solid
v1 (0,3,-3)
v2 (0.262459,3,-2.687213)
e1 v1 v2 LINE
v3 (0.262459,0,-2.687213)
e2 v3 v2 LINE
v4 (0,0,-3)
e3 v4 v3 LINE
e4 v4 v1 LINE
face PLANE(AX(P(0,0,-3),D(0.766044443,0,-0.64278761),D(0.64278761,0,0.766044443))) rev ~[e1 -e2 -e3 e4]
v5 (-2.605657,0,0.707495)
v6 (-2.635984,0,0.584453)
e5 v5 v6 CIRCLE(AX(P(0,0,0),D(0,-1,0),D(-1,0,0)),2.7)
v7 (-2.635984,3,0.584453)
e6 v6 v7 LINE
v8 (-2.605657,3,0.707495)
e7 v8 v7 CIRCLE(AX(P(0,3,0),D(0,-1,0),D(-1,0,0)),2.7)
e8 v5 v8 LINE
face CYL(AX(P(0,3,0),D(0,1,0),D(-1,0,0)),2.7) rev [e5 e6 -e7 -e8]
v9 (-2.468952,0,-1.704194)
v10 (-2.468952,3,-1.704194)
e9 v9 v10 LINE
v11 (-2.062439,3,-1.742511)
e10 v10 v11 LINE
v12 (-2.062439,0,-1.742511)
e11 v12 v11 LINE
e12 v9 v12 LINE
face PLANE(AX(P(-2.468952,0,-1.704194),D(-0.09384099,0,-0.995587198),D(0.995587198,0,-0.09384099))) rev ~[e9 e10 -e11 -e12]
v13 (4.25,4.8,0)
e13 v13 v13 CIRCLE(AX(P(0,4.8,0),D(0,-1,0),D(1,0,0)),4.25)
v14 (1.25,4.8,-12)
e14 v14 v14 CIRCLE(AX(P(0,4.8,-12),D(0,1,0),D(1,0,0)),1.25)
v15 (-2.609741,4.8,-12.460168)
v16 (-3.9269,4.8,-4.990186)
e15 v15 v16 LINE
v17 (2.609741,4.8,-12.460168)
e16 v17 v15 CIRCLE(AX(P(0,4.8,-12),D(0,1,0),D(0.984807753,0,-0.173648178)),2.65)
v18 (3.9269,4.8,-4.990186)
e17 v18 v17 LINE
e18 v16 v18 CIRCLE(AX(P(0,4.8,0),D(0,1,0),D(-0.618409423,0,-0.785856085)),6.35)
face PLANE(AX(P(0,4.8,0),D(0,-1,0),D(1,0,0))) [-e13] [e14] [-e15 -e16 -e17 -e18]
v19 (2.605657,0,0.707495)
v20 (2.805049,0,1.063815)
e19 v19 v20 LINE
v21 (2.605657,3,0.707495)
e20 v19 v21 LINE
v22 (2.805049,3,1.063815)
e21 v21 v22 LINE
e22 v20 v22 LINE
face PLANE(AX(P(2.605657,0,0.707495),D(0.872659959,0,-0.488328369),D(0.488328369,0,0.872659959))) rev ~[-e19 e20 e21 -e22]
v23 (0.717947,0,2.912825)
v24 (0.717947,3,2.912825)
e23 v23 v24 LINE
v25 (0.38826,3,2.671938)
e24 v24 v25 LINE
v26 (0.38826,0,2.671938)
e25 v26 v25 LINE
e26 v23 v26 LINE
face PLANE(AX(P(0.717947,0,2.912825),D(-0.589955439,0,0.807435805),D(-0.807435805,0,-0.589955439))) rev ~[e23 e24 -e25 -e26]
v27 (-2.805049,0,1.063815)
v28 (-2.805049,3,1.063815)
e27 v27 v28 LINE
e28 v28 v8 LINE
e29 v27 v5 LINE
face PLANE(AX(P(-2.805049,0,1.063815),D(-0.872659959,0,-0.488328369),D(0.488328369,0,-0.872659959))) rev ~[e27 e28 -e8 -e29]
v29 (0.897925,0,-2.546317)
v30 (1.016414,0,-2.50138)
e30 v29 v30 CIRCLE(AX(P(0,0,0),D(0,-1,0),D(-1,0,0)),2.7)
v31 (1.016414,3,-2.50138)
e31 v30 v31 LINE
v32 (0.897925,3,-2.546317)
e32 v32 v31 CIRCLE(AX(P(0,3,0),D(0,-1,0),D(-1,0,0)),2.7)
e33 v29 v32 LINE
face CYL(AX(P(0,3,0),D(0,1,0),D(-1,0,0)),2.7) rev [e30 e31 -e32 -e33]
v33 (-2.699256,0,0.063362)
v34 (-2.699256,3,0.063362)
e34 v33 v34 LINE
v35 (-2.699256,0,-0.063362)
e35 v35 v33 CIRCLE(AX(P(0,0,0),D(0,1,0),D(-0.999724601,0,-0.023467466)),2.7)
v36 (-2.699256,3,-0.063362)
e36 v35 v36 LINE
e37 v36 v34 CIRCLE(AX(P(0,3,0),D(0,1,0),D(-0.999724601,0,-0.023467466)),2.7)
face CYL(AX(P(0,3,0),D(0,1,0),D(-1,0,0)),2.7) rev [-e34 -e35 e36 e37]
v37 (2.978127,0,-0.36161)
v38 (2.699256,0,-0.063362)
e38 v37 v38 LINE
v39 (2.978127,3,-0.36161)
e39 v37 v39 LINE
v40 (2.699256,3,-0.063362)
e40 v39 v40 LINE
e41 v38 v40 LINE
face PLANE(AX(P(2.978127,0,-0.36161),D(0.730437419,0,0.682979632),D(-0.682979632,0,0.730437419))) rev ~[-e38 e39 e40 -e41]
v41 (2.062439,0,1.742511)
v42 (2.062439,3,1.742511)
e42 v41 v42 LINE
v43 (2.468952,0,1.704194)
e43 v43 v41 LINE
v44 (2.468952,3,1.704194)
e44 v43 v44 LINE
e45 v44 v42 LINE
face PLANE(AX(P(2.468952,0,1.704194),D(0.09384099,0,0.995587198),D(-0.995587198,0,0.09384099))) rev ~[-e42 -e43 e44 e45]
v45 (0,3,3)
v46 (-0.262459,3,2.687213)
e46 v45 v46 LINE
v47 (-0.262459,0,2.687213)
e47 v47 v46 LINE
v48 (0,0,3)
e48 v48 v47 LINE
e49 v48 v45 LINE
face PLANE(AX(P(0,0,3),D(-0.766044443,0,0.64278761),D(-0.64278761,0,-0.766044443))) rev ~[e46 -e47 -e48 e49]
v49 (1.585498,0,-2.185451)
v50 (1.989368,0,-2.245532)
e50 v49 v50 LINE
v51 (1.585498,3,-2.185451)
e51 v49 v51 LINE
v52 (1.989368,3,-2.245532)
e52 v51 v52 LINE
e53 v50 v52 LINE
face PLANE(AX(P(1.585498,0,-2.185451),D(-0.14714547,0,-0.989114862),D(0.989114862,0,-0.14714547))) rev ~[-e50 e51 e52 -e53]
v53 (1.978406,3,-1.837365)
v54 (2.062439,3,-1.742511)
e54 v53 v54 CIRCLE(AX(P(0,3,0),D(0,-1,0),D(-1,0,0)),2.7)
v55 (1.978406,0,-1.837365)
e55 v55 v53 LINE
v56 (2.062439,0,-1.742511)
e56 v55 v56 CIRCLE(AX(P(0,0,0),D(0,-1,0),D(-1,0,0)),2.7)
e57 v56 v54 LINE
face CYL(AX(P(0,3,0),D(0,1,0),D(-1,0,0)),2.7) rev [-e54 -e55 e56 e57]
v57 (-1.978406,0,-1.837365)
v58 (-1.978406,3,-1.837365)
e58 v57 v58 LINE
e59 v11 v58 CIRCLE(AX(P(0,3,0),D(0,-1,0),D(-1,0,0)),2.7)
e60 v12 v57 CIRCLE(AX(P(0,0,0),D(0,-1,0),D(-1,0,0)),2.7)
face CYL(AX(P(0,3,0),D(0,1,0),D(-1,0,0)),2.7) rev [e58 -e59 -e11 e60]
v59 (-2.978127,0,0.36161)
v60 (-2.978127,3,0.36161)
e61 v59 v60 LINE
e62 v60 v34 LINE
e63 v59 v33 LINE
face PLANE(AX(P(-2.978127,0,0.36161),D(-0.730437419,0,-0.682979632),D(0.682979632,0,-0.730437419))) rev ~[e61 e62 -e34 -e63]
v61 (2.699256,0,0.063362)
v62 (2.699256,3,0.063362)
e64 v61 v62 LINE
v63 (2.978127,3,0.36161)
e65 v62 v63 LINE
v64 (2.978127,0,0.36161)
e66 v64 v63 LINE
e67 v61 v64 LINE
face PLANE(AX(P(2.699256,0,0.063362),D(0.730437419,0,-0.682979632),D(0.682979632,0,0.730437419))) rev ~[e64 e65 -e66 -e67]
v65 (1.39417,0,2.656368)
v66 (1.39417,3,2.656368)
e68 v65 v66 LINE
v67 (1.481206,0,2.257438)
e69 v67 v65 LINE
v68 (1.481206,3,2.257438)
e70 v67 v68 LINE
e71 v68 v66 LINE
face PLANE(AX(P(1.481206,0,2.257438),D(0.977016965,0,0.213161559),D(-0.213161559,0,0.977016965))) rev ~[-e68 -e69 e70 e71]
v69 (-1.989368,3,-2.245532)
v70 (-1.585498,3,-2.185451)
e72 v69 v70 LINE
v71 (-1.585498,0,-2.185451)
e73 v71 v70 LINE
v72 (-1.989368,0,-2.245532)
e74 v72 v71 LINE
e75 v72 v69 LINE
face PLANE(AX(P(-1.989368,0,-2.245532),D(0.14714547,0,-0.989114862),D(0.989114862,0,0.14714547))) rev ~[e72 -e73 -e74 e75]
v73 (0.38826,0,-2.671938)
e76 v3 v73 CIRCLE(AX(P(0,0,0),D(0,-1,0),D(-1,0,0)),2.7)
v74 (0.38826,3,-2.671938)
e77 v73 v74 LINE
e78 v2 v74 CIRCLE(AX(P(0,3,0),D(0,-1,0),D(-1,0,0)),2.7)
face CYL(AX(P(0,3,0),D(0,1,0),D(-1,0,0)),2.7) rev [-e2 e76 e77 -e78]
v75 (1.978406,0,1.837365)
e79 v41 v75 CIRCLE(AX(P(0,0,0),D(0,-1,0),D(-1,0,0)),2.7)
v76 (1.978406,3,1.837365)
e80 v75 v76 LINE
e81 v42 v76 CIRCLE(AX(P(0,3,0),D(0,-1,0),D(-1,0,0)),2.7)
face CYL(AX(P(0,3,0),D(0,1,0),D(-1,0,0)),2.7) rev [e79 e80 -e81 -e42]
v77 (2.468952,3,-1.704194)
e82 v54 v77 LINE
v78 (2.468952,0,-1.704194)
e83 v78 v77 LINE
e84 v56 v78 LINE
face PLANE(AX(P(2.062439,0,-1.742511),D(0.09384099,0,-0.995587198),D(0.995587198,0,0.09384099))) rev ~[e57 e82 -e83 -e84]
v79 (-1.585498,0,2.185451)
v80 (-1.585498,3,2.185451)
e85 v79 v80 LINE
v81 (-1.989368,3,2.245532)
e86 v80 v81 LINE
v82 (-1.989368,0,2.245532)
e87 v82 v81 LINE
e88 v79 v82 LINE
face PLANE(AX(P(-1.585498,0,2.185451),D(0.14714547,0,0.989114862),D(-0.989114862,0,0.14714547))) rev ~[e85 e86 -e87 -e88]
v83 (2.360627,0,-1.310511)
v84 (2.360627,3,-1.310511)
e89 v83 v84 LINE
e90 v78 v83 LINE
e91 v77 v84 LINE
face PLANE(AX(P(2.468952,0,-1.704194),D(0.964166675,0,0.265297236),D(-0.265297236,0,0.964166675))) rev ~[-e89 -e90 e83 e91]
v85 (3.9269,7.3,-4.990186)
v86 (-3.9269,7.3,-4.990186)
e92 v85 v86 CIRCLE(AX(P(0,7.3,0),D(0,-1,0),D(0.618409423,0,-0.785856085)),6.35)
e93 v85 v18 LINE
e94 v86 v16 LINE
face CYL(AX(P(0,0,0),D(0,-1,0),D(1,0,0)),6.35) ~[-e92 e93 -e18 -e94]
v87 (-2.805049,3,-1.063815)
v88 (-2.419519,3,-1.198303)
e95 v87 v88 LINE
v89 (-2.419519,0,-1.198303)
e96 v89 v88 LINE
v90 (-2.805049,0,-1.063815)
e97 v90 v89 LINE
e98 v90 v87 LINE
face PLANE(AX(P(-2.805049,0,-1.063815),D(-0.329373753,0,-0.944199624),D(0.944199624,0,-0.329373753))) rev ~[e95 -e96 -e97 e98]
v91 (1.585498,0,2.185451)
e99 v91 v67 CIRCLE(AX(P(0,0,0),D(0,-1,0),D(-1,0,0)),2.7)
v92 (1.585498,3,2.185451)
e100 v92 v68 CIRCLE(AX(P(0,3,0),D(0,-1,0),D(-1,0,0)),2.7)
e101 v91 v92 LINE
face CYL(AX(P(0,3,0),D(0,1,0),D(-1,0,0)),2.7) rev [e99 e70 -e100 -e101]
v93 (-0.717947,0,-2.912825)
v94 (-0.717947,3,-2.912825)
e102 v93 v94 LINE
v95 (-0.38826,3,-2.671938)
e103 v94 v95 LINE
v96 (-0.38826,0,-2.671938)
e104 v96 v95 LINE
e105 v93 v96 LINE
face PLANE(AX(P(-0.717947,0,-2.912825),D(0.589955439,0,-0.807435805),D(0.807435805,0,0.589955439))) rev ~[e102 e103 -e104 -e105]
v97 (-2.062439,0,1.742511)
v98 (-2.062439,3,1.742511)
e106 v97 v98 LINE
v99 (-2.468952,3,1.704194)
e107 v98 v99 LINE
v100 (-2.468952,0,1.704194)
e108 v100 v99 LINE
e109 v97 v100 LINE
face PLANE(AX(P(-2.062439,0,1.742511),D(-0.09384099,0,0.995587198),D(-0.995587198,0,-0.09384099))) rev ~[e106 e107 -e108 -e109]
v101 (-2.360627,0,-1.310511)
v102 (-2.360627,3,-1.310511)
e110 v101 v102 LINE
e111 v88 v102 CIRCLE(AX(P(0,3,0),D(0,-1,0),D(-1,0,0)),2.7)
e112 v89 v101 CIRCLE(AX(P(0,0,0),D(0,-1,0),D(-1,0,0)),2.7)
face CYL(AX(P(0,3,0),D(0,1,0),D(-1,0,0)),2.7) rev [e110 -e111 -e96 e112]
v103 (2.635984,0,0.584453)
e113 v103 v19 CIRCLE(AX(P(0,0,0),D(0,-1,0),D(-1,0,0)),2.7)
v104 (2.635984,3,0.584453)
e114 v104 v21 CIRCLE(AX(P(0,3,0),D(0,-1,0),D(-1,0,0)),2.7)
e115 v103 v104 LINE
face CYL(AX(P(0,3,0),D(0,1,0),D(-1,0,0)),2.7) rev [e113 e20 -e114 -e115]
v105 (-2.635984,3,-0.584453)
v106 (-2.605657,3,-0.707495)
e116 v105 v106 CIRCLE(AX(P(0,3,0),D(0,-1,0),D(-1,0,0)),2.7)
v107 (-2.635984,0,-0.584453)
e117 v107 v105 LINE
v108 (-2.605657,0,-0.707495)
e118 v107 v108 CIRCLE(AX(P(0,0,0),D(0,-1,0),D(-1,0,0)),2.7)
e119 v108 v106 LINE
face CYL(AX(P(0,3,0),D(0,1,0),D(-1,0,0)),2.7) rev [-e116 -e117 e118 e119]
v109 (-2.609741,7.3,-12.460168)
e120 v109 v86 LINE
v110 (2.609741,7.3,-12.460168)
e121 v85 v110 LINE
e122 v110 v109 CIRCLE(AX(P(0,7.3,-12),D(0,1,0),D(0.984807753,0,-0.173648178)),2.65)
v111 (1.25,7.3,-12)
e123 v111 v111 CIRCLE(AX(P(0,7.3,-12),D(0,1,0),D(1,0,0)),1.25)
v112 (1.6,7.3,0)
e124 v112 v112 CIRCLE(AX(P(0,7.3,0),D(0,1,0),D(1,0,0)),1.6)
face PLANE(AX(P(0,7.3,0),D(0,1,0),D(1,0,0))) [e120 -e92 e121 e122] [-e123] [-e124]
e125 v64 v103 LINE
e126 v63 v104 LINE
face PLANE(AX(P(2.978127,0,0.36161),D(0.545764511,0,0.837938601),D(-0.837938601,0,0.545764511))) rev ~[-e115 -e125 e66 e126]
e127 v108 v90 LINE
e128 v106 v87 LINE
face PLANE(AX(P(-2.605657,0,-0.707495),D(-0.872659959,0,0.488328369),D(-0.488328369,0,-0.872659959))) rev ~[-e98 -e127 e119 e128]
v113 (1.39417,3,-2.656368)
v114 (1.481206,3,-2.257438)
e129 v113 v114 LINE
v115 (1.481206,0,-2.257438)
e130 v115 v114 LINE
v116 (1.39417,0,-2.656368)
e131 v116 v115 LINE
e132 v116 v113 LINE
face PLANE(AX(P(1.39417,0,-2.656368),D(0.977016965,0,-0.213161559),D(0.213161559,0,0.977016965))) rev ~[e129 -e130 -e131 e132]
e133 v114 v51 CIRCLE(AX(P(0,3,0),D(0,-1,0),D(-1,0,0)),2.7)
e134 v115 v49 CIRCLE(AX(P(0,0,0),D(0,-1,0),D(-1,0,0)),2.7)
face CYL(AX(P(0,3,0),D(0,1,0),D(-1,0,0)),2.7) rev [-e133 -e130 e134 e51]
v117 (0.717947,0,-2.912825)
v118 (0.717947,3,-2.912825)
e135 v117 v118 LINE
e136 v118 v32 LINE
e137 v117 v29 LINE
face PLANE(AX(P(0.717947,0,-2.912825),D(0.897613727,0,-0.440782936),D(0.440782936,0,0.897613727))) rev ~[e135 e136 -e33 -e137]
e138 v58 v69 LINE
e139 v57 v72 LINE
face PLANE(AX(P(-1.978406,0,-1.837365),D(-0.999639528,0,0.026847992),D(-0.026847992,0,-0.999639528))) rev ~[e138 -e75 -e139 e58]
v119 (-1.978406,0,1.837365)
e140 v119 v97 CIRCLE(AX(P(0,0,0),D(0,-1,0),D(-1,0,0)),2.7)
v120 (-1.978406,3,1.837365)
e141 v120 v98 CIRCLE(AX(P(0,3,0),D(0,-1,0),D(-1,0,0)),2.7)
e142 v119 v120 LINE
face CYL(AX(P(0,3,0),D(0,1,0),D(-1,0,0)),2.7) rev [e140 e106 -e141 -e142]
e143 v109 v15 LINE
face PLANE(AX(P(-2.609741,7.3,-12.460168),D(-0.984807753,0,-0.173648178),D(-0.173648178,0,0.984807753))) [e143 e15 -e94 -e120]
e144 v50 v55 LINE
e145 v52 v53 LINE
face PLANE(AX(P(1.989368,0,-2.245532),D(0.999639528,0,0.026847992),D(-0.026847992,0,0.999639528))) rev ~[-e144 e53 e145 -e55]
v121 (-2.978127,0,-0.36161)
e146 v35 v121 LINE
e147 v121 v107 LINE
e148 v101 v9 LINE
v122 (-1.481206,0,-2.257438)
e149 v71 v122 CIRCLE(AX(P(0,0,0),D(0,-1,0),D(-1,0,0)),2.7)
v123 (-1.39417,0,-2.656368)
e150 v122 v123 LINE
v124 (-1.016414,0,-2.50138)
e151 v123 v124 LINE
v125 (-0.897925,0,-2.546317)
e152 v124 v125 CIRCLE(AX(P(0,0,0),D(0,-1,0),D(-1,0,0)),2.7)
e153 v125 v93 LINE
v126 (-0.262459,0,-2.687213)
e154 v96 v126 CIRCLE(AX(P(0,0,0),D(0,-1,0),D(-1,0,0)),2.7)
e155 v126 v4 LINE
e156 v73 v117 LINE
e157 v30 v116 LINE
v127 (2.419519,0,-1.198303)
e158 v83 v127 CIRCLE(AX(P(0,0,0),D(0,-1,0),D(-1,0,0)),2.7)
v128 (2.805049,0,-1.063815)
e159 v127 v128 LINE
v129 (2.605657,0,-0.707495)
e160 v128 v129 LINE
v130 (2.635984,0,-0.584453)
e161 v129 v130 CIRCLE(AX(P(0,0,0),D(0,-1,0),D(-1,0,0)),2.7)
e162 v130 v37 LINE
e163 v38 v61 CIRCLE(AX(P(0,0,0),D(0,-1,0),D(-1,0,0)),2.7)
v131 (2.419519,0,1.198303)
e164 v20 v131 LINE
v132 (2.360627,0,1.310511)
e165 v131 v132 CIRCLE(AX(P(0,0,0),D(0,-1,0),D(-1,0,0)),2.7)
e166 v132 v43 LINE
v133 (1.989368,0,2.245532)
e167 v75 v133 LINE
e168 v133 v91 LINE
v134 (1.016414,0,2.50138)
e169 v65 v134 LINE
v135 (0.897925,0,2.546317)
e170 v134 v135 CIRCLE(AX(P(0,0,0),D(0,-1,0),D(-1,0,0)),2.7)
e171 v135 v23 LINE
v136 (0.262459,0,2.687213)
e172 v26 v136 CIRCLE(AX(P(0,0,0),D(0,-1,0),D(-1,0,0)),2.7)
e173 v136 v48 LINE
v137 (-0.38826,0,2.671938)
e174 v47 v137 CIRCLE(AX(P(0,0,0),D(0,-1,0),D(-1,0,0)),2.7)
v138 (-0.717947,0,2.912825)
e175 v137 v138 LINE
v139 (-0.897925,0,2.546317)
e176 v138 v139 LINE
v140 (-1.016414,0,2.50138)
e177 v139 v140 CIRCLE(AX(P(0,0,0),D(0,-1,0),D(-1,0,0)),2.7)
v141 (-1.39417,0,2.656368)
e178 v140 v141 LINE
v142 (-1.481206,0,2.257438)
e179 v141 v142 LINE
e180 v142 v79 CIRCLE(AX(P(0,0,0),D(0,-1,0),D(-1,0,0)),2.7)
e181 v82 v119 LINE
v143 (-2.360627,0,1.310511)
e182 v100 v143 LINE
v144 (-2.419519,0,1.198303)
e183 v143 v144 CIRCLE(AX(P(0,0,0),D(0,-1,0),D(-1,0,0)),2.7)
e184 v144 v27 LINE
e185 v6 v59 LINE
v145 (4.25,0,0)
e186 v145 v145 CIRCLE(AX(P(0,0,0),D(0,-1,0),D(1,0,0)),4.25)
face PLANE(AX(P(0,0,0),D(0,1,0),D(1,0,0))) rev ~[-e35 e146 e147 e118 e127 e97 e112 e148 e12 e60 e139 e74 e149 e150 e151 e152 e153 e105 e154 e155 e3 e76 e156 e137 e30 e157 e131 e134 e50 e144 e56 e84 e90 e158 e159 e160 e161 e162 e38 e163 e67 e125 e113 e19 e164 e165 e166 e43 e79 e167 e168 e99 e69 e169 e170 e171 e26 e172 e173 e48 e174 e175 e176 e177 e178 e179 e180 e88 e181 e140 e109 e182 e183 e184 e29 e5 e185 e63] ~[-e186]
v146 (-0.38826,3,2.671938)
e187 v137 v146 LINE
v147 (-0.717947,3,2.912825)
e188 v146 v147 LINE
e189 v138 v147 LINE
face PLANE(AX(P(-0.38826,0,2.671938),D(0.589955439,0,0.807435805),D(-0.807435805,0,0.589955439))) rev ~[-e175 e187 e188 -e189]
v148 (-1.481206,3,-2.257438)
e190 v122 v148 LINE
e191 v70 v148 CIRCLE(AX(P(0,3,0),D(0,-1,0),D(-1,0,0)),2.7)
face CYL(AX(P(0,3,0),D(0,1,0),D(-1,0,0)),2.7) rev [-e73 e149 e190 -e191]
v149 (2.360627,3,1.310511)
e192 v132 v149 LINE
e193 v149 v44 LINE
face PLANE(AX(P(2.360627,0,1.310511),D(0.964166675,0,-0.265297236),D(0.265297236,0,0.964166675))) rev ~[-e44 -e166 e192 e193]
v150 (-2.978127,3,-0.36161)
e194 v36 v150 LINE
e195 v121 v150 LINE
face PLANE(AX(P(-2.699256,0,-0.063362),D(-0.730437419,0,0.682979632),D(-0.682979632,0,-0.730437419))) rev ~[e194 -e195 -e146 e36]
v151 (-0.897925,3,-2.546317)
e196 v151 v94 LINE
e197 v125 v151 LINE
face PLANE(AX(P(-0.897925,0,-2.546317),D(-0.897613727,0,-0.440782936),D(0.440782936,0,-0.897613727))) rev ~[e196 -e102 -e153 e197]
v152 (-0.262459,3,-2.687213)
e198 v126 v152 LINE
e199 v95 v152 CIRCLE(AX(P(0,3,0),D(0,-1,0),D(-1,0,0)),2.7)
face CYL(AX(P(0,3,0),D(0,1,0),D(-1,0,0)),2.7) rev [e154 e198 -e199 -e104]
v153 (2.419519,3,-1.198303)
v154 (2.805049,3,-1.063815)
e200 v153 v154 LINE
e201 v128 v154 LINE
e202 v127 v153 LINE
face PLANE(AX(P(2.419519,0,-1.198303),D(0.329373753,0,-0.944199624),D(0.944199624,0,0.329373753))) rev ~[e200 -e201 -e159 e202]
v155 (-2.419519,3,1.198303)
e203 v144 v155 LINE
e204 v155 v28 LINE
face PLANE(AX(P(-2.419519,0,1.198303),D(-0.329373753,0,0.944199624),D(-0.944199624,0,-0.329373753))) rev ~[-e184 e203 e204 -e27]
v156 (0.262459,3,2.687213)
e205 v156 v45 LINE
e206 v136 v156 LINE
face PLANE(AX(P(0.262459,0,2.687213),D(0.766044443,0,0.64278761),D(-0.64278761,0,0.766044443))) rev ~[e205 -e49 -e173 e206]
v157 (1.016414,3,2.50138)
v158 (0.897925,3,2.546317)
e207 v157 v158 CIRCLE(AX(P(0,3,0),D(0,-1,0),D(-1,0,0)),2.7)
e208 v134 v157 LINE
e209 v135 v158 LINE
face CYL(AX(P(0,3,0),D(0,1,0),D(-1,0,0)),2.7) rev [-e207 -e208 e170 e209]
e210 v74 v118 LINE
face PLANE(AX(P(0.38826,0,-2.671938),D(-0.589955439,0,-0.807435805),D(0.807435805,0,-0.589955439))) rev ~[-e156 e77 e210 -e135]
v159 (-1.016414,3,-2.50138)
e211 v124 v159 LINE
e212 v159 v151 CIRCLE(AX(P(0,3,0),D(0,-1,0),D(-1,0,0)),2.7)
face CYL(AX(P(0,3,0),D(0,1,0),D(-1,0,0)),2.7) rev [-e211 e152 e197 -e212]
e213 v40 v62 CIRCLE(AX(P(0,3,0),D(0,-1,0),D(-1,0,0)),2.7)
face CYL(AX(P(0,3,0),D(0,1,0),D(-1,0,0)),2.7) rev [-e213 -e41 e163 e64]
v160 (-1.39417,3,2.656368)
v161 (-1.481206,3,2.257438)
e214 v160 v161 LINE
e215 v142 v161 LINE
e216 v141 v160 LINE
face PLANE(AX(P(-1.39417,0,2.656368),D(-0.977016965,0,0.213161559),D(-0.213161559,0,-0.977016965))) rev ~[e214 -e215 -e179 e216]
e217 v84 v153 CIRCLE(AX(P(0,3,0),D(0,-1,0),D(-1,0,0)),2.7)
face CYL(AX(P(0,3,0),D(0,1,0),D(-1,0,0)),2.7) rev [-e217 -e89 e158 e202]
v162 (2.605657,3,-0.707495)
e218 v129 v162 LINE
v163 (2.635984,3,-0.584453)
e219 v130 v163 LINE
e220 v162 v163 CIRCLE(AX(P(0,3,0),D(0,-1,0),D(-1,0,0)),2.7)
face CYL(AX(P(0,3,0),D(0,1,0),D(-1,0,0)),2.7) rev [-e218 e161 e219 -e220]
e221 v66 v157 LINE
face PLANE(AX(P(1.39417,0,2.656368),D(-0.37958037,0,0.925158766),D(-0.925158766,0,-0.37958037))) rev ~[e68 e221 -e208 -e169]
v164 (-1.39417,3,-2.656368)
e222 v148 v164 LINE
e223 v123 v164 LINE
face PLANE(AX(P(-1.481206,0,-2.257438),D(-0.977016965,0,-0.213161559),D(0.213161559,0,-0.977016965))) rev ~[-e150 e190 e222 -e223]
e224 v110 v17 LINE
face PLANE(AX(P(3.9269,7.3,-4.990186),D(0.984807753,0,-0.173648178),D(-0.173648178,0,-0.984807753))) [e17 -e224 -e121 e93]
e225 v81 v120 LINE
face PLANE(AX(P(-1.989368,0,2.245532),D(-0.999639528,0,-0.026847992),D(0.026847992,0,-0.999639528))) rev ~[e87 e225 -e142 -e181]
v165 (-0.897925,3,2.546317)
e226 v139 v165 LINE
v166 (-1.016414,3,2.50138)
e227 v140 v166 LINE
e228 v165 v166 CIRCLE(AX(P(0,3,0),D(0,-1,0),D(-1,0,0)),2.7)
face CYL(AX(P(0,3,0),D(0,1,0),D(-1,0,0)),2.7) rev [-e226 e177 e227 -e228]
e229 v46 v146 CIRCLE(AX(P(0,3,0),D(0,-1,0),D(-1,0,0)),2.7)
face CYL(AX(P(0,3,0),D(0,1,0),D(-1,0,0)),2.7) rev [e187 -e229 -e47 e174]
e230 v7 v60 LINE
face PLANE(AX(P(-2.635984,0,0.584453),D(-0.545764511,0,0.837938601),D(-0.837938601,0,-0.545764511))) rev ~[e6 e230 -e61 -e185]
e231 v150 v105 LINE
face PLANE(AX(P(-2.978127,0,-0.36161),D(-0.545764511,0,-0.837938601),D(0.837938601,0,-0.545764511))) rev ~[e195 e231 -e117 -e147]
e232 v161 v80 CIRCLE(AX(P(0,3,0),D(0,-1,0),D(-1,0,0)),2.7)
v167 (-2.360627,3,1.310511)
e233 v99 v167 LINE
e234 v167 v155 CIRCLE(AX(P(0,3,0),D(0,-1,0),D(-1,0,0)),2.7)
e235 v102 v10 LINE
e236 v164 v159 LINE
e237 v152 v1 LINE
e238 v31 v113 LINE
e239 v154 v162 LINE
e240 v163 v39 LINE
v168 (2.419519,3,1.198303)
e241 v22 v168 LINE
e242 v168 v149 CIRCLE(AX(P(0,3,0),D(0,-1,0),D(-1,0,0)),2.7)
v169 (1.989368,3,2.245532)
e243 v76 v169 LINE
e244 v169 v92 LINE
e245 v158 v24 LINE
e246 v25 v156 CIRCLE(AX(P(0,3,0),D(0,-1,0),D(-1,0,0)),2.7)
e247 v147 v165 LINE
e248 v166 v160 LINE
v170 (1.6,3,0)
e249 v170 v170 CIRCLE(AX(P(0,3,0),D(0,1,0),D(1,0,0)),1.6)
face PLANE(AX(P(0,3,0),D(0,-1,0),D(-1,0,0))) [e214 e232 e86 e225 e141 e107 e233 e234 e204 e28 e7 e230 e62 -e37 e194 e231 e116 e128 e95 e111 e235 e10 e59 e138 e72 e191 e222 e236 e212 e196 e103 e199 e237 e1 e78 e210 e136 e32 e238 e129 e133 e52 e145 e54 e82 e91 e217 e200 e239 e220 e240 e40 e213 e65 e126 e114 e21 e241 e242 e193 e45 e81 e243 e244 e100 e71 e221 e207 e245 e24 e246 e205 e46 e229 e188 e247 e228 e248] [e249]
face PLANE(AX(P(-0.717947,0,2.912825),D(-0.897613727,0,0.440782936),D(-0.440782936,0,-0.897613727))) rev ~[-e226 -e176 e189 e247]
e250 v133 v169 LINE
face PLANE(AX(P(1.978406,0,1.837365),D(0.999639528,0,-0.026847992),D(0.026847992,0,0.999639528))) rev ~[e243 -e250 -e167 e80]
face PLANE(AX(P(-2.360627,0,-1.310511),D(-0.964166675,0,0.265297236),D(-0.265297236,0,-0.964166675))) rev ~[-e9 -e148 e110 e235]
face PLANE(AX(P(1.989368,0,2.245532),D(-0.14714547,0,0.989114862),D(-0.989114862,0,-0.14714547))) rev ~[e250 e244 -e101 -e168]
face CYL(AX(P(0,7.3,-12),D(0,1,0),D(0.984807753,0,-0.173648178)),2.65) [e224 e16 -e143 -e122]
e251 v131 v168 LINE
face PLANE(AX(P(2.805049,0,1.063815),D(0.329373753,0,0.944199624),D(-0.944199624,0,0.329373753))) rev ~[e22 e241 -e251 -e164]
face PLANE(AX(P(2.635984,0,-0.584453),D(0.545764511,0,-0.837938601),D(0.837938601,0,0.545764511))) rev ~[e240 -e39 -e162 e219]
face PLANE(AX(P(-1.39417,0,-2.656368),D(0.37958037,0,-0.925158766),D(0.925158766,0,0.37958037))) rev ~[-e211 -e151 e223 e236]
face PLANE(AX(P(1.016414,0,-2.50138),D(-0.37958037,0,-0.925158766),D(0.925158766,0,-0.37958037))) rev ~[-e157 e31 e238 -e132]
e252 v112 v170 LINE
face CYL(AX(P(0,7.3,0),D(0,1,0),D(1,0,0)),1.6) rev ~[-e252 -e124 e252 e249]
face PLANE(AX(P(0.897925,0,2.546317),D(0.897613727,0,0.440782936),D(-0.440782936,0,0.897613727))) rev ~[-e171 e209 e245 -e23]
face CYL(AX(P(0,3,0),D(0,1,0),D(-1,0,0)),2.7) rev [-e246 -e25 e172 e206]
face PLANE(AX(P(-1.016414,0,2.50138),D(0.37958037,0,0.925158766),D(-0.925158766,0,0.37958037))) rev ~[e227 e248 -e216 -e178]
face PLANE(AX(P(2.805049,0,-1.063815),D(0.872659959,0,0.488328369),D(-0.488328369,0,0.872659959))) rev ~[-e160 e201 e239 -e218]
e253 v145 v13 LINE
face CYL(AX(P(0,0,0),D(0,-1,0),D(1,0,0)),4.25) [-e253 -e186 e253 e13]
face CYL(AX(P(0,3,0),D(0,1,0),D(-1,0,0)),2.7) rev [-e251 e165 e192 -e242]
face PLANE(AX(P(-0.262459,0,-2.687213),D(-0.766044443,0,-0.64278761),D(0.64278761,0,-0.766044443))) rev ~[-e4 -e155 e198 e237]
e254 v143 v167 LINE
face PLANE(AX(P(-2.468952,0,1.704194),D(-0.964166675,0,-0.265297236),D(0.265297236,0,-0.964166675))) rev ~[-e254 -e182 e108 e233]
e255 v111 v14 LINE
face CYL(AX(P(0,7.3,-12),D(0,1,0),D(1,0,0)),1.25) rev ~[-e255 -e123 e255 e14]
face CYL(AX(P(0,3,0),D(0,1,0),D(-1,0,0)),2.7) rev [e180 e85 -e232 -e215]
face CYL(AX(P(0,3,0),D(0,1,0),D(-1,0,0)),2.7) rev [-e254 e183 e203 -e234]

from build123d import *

# Parameters (mm, degrees)
BASES_R             = 6.35
BASE_DEPTH          = 7.3
HORN_HALF_DEPTH     = 2.5
TOOTH_DEPTH         = 3
TOOTH_CP_COUNT      = 26
BOTTOM_START        = -3
BOTTOMBORES_R       = 2.7
BOTTOM_BORE_DEPTH   = 3
HOLDINGSHAFTS_R     = 6.35
HOLDINGSHAFTS_R_2   = 4.25
HOLDING_SHAFT_DEPTH = 4.8
HORNATTACHS_R       = 1.25
CUT_EXTRUDE_1_DEPTH = 8.3
TOPBORES_R          = 1.6
CUT_EXTRUDE_2_DEPTH = 8.3


with BuildPart() as part:
    # BaseS → BASE (new body)
    with BuildSketch(Plane(origin=(0, 0, 0), x_dir=(1, 0, 0), z_dir=(0, 1, 0))):
        Circle(BASES_R)
    extrude(amount=BASE_DEPTH)

    # HornHalfS → HORN HALF (add)
    with BuildSketch(Plane(origin=(0, 7.3, 0), x_dir=(1, 0, 0), z_dir=(0, 1, 0))):
        with BuildLine():
            Line((-2.609740545, 12.460167671), (-3.926899835, 4.990186137))
            ThreePointArc((-3.926899835, 4.990186137), (0, 6.35), (3.926899835, 4.990186137))
            Line((3.926899835, 4.990186137), (2.609740545, 12.460167671))
            ThreePointArc((2.609740545, 12.460167671), (0, 14.65), (-2.609740545, 12.460167671))
        make_face()
    extrude(amount=-HORN_HALF_DEPTH)

    # ToothS → TOOTH (cut)
    with BuildSketch(Plane.XZ):
        with BuildLine():
            Line((0, -3), (0.262459231, -2.687213269))
            ThreePointArc((0.262459231, -2.687213269), (0, -2.7), (-0.262459231, -2.687213269))
            Line((-0.262459231, -2.687213269), (0, -3))
        make_face()
    tooth = extrude(amount=-TOOTH_DEPTH, mode=Mode.SUBTRACT)

    # TOOTH CP: TOOTH ×26 about axis
    tooth_cp_axis = Axis((0, 0, 0), (0, 1, 0))
    for i in range(1, TOOTH_CP_COUNT):
        add(tooth.rotate(tooth_cp_axis, i * 360 / TOOTH_CP_COUNT), mode=Mode.SUBTRACT)

    # BottomBoreS → BOTTOM BORE (cut)
    with BuildSketch(Plane(origin=(0, 0, 0), x_dir=(-1, 0, 0), z_dir=(0, -1, 0)).offset(BOTTOM_START)):
        Circle(BOTTOMBORES_R)
    extrude(amount=BOTTOM_BORE_DEPTH, mode=Mode.SUBTRACT)

    # HoldingShaftS → HOLDING SHAFT (cut)
    with BuildSketch(Plane.XZ):
        Circle(HOLDINGSHAFTS_R)
        Circle(HOLDINGSHAFTS_R_2, mode=Mode.SUBTRACT)
    extrude(amount=-HOLDING_SHAFT_DEPTH, mode=Mode.SUBTRACT)

    # HornAttachS → 除料-伸長1 (cut, through all)
    with BuildSketch(Plane(origin=(0, 7.3, 0), x_dir=(1, 0, 0), z_dir=(0, 1, 0))):
        with Locations((0, 12)):
            Circle(HORNATTACHS_R)
    extrude(amount=-CUT_EXTRUDE_1_DEPTH, mode=Mode.SUBTRACT)

    # TopBoreS → 除料-伸長2 (cut, through all)
    with BuildSketch(Plane(origin=(0, 7.3, 0), x_dir=(1, 0, 0), z_dir=(0, 1, 0))):
        Circle(TOPBORES_R)
    extrude(amount=-CUT_EXTRUDE_2_DEPTH, mode=Mode.SUBTRACT)


solid = part.part
